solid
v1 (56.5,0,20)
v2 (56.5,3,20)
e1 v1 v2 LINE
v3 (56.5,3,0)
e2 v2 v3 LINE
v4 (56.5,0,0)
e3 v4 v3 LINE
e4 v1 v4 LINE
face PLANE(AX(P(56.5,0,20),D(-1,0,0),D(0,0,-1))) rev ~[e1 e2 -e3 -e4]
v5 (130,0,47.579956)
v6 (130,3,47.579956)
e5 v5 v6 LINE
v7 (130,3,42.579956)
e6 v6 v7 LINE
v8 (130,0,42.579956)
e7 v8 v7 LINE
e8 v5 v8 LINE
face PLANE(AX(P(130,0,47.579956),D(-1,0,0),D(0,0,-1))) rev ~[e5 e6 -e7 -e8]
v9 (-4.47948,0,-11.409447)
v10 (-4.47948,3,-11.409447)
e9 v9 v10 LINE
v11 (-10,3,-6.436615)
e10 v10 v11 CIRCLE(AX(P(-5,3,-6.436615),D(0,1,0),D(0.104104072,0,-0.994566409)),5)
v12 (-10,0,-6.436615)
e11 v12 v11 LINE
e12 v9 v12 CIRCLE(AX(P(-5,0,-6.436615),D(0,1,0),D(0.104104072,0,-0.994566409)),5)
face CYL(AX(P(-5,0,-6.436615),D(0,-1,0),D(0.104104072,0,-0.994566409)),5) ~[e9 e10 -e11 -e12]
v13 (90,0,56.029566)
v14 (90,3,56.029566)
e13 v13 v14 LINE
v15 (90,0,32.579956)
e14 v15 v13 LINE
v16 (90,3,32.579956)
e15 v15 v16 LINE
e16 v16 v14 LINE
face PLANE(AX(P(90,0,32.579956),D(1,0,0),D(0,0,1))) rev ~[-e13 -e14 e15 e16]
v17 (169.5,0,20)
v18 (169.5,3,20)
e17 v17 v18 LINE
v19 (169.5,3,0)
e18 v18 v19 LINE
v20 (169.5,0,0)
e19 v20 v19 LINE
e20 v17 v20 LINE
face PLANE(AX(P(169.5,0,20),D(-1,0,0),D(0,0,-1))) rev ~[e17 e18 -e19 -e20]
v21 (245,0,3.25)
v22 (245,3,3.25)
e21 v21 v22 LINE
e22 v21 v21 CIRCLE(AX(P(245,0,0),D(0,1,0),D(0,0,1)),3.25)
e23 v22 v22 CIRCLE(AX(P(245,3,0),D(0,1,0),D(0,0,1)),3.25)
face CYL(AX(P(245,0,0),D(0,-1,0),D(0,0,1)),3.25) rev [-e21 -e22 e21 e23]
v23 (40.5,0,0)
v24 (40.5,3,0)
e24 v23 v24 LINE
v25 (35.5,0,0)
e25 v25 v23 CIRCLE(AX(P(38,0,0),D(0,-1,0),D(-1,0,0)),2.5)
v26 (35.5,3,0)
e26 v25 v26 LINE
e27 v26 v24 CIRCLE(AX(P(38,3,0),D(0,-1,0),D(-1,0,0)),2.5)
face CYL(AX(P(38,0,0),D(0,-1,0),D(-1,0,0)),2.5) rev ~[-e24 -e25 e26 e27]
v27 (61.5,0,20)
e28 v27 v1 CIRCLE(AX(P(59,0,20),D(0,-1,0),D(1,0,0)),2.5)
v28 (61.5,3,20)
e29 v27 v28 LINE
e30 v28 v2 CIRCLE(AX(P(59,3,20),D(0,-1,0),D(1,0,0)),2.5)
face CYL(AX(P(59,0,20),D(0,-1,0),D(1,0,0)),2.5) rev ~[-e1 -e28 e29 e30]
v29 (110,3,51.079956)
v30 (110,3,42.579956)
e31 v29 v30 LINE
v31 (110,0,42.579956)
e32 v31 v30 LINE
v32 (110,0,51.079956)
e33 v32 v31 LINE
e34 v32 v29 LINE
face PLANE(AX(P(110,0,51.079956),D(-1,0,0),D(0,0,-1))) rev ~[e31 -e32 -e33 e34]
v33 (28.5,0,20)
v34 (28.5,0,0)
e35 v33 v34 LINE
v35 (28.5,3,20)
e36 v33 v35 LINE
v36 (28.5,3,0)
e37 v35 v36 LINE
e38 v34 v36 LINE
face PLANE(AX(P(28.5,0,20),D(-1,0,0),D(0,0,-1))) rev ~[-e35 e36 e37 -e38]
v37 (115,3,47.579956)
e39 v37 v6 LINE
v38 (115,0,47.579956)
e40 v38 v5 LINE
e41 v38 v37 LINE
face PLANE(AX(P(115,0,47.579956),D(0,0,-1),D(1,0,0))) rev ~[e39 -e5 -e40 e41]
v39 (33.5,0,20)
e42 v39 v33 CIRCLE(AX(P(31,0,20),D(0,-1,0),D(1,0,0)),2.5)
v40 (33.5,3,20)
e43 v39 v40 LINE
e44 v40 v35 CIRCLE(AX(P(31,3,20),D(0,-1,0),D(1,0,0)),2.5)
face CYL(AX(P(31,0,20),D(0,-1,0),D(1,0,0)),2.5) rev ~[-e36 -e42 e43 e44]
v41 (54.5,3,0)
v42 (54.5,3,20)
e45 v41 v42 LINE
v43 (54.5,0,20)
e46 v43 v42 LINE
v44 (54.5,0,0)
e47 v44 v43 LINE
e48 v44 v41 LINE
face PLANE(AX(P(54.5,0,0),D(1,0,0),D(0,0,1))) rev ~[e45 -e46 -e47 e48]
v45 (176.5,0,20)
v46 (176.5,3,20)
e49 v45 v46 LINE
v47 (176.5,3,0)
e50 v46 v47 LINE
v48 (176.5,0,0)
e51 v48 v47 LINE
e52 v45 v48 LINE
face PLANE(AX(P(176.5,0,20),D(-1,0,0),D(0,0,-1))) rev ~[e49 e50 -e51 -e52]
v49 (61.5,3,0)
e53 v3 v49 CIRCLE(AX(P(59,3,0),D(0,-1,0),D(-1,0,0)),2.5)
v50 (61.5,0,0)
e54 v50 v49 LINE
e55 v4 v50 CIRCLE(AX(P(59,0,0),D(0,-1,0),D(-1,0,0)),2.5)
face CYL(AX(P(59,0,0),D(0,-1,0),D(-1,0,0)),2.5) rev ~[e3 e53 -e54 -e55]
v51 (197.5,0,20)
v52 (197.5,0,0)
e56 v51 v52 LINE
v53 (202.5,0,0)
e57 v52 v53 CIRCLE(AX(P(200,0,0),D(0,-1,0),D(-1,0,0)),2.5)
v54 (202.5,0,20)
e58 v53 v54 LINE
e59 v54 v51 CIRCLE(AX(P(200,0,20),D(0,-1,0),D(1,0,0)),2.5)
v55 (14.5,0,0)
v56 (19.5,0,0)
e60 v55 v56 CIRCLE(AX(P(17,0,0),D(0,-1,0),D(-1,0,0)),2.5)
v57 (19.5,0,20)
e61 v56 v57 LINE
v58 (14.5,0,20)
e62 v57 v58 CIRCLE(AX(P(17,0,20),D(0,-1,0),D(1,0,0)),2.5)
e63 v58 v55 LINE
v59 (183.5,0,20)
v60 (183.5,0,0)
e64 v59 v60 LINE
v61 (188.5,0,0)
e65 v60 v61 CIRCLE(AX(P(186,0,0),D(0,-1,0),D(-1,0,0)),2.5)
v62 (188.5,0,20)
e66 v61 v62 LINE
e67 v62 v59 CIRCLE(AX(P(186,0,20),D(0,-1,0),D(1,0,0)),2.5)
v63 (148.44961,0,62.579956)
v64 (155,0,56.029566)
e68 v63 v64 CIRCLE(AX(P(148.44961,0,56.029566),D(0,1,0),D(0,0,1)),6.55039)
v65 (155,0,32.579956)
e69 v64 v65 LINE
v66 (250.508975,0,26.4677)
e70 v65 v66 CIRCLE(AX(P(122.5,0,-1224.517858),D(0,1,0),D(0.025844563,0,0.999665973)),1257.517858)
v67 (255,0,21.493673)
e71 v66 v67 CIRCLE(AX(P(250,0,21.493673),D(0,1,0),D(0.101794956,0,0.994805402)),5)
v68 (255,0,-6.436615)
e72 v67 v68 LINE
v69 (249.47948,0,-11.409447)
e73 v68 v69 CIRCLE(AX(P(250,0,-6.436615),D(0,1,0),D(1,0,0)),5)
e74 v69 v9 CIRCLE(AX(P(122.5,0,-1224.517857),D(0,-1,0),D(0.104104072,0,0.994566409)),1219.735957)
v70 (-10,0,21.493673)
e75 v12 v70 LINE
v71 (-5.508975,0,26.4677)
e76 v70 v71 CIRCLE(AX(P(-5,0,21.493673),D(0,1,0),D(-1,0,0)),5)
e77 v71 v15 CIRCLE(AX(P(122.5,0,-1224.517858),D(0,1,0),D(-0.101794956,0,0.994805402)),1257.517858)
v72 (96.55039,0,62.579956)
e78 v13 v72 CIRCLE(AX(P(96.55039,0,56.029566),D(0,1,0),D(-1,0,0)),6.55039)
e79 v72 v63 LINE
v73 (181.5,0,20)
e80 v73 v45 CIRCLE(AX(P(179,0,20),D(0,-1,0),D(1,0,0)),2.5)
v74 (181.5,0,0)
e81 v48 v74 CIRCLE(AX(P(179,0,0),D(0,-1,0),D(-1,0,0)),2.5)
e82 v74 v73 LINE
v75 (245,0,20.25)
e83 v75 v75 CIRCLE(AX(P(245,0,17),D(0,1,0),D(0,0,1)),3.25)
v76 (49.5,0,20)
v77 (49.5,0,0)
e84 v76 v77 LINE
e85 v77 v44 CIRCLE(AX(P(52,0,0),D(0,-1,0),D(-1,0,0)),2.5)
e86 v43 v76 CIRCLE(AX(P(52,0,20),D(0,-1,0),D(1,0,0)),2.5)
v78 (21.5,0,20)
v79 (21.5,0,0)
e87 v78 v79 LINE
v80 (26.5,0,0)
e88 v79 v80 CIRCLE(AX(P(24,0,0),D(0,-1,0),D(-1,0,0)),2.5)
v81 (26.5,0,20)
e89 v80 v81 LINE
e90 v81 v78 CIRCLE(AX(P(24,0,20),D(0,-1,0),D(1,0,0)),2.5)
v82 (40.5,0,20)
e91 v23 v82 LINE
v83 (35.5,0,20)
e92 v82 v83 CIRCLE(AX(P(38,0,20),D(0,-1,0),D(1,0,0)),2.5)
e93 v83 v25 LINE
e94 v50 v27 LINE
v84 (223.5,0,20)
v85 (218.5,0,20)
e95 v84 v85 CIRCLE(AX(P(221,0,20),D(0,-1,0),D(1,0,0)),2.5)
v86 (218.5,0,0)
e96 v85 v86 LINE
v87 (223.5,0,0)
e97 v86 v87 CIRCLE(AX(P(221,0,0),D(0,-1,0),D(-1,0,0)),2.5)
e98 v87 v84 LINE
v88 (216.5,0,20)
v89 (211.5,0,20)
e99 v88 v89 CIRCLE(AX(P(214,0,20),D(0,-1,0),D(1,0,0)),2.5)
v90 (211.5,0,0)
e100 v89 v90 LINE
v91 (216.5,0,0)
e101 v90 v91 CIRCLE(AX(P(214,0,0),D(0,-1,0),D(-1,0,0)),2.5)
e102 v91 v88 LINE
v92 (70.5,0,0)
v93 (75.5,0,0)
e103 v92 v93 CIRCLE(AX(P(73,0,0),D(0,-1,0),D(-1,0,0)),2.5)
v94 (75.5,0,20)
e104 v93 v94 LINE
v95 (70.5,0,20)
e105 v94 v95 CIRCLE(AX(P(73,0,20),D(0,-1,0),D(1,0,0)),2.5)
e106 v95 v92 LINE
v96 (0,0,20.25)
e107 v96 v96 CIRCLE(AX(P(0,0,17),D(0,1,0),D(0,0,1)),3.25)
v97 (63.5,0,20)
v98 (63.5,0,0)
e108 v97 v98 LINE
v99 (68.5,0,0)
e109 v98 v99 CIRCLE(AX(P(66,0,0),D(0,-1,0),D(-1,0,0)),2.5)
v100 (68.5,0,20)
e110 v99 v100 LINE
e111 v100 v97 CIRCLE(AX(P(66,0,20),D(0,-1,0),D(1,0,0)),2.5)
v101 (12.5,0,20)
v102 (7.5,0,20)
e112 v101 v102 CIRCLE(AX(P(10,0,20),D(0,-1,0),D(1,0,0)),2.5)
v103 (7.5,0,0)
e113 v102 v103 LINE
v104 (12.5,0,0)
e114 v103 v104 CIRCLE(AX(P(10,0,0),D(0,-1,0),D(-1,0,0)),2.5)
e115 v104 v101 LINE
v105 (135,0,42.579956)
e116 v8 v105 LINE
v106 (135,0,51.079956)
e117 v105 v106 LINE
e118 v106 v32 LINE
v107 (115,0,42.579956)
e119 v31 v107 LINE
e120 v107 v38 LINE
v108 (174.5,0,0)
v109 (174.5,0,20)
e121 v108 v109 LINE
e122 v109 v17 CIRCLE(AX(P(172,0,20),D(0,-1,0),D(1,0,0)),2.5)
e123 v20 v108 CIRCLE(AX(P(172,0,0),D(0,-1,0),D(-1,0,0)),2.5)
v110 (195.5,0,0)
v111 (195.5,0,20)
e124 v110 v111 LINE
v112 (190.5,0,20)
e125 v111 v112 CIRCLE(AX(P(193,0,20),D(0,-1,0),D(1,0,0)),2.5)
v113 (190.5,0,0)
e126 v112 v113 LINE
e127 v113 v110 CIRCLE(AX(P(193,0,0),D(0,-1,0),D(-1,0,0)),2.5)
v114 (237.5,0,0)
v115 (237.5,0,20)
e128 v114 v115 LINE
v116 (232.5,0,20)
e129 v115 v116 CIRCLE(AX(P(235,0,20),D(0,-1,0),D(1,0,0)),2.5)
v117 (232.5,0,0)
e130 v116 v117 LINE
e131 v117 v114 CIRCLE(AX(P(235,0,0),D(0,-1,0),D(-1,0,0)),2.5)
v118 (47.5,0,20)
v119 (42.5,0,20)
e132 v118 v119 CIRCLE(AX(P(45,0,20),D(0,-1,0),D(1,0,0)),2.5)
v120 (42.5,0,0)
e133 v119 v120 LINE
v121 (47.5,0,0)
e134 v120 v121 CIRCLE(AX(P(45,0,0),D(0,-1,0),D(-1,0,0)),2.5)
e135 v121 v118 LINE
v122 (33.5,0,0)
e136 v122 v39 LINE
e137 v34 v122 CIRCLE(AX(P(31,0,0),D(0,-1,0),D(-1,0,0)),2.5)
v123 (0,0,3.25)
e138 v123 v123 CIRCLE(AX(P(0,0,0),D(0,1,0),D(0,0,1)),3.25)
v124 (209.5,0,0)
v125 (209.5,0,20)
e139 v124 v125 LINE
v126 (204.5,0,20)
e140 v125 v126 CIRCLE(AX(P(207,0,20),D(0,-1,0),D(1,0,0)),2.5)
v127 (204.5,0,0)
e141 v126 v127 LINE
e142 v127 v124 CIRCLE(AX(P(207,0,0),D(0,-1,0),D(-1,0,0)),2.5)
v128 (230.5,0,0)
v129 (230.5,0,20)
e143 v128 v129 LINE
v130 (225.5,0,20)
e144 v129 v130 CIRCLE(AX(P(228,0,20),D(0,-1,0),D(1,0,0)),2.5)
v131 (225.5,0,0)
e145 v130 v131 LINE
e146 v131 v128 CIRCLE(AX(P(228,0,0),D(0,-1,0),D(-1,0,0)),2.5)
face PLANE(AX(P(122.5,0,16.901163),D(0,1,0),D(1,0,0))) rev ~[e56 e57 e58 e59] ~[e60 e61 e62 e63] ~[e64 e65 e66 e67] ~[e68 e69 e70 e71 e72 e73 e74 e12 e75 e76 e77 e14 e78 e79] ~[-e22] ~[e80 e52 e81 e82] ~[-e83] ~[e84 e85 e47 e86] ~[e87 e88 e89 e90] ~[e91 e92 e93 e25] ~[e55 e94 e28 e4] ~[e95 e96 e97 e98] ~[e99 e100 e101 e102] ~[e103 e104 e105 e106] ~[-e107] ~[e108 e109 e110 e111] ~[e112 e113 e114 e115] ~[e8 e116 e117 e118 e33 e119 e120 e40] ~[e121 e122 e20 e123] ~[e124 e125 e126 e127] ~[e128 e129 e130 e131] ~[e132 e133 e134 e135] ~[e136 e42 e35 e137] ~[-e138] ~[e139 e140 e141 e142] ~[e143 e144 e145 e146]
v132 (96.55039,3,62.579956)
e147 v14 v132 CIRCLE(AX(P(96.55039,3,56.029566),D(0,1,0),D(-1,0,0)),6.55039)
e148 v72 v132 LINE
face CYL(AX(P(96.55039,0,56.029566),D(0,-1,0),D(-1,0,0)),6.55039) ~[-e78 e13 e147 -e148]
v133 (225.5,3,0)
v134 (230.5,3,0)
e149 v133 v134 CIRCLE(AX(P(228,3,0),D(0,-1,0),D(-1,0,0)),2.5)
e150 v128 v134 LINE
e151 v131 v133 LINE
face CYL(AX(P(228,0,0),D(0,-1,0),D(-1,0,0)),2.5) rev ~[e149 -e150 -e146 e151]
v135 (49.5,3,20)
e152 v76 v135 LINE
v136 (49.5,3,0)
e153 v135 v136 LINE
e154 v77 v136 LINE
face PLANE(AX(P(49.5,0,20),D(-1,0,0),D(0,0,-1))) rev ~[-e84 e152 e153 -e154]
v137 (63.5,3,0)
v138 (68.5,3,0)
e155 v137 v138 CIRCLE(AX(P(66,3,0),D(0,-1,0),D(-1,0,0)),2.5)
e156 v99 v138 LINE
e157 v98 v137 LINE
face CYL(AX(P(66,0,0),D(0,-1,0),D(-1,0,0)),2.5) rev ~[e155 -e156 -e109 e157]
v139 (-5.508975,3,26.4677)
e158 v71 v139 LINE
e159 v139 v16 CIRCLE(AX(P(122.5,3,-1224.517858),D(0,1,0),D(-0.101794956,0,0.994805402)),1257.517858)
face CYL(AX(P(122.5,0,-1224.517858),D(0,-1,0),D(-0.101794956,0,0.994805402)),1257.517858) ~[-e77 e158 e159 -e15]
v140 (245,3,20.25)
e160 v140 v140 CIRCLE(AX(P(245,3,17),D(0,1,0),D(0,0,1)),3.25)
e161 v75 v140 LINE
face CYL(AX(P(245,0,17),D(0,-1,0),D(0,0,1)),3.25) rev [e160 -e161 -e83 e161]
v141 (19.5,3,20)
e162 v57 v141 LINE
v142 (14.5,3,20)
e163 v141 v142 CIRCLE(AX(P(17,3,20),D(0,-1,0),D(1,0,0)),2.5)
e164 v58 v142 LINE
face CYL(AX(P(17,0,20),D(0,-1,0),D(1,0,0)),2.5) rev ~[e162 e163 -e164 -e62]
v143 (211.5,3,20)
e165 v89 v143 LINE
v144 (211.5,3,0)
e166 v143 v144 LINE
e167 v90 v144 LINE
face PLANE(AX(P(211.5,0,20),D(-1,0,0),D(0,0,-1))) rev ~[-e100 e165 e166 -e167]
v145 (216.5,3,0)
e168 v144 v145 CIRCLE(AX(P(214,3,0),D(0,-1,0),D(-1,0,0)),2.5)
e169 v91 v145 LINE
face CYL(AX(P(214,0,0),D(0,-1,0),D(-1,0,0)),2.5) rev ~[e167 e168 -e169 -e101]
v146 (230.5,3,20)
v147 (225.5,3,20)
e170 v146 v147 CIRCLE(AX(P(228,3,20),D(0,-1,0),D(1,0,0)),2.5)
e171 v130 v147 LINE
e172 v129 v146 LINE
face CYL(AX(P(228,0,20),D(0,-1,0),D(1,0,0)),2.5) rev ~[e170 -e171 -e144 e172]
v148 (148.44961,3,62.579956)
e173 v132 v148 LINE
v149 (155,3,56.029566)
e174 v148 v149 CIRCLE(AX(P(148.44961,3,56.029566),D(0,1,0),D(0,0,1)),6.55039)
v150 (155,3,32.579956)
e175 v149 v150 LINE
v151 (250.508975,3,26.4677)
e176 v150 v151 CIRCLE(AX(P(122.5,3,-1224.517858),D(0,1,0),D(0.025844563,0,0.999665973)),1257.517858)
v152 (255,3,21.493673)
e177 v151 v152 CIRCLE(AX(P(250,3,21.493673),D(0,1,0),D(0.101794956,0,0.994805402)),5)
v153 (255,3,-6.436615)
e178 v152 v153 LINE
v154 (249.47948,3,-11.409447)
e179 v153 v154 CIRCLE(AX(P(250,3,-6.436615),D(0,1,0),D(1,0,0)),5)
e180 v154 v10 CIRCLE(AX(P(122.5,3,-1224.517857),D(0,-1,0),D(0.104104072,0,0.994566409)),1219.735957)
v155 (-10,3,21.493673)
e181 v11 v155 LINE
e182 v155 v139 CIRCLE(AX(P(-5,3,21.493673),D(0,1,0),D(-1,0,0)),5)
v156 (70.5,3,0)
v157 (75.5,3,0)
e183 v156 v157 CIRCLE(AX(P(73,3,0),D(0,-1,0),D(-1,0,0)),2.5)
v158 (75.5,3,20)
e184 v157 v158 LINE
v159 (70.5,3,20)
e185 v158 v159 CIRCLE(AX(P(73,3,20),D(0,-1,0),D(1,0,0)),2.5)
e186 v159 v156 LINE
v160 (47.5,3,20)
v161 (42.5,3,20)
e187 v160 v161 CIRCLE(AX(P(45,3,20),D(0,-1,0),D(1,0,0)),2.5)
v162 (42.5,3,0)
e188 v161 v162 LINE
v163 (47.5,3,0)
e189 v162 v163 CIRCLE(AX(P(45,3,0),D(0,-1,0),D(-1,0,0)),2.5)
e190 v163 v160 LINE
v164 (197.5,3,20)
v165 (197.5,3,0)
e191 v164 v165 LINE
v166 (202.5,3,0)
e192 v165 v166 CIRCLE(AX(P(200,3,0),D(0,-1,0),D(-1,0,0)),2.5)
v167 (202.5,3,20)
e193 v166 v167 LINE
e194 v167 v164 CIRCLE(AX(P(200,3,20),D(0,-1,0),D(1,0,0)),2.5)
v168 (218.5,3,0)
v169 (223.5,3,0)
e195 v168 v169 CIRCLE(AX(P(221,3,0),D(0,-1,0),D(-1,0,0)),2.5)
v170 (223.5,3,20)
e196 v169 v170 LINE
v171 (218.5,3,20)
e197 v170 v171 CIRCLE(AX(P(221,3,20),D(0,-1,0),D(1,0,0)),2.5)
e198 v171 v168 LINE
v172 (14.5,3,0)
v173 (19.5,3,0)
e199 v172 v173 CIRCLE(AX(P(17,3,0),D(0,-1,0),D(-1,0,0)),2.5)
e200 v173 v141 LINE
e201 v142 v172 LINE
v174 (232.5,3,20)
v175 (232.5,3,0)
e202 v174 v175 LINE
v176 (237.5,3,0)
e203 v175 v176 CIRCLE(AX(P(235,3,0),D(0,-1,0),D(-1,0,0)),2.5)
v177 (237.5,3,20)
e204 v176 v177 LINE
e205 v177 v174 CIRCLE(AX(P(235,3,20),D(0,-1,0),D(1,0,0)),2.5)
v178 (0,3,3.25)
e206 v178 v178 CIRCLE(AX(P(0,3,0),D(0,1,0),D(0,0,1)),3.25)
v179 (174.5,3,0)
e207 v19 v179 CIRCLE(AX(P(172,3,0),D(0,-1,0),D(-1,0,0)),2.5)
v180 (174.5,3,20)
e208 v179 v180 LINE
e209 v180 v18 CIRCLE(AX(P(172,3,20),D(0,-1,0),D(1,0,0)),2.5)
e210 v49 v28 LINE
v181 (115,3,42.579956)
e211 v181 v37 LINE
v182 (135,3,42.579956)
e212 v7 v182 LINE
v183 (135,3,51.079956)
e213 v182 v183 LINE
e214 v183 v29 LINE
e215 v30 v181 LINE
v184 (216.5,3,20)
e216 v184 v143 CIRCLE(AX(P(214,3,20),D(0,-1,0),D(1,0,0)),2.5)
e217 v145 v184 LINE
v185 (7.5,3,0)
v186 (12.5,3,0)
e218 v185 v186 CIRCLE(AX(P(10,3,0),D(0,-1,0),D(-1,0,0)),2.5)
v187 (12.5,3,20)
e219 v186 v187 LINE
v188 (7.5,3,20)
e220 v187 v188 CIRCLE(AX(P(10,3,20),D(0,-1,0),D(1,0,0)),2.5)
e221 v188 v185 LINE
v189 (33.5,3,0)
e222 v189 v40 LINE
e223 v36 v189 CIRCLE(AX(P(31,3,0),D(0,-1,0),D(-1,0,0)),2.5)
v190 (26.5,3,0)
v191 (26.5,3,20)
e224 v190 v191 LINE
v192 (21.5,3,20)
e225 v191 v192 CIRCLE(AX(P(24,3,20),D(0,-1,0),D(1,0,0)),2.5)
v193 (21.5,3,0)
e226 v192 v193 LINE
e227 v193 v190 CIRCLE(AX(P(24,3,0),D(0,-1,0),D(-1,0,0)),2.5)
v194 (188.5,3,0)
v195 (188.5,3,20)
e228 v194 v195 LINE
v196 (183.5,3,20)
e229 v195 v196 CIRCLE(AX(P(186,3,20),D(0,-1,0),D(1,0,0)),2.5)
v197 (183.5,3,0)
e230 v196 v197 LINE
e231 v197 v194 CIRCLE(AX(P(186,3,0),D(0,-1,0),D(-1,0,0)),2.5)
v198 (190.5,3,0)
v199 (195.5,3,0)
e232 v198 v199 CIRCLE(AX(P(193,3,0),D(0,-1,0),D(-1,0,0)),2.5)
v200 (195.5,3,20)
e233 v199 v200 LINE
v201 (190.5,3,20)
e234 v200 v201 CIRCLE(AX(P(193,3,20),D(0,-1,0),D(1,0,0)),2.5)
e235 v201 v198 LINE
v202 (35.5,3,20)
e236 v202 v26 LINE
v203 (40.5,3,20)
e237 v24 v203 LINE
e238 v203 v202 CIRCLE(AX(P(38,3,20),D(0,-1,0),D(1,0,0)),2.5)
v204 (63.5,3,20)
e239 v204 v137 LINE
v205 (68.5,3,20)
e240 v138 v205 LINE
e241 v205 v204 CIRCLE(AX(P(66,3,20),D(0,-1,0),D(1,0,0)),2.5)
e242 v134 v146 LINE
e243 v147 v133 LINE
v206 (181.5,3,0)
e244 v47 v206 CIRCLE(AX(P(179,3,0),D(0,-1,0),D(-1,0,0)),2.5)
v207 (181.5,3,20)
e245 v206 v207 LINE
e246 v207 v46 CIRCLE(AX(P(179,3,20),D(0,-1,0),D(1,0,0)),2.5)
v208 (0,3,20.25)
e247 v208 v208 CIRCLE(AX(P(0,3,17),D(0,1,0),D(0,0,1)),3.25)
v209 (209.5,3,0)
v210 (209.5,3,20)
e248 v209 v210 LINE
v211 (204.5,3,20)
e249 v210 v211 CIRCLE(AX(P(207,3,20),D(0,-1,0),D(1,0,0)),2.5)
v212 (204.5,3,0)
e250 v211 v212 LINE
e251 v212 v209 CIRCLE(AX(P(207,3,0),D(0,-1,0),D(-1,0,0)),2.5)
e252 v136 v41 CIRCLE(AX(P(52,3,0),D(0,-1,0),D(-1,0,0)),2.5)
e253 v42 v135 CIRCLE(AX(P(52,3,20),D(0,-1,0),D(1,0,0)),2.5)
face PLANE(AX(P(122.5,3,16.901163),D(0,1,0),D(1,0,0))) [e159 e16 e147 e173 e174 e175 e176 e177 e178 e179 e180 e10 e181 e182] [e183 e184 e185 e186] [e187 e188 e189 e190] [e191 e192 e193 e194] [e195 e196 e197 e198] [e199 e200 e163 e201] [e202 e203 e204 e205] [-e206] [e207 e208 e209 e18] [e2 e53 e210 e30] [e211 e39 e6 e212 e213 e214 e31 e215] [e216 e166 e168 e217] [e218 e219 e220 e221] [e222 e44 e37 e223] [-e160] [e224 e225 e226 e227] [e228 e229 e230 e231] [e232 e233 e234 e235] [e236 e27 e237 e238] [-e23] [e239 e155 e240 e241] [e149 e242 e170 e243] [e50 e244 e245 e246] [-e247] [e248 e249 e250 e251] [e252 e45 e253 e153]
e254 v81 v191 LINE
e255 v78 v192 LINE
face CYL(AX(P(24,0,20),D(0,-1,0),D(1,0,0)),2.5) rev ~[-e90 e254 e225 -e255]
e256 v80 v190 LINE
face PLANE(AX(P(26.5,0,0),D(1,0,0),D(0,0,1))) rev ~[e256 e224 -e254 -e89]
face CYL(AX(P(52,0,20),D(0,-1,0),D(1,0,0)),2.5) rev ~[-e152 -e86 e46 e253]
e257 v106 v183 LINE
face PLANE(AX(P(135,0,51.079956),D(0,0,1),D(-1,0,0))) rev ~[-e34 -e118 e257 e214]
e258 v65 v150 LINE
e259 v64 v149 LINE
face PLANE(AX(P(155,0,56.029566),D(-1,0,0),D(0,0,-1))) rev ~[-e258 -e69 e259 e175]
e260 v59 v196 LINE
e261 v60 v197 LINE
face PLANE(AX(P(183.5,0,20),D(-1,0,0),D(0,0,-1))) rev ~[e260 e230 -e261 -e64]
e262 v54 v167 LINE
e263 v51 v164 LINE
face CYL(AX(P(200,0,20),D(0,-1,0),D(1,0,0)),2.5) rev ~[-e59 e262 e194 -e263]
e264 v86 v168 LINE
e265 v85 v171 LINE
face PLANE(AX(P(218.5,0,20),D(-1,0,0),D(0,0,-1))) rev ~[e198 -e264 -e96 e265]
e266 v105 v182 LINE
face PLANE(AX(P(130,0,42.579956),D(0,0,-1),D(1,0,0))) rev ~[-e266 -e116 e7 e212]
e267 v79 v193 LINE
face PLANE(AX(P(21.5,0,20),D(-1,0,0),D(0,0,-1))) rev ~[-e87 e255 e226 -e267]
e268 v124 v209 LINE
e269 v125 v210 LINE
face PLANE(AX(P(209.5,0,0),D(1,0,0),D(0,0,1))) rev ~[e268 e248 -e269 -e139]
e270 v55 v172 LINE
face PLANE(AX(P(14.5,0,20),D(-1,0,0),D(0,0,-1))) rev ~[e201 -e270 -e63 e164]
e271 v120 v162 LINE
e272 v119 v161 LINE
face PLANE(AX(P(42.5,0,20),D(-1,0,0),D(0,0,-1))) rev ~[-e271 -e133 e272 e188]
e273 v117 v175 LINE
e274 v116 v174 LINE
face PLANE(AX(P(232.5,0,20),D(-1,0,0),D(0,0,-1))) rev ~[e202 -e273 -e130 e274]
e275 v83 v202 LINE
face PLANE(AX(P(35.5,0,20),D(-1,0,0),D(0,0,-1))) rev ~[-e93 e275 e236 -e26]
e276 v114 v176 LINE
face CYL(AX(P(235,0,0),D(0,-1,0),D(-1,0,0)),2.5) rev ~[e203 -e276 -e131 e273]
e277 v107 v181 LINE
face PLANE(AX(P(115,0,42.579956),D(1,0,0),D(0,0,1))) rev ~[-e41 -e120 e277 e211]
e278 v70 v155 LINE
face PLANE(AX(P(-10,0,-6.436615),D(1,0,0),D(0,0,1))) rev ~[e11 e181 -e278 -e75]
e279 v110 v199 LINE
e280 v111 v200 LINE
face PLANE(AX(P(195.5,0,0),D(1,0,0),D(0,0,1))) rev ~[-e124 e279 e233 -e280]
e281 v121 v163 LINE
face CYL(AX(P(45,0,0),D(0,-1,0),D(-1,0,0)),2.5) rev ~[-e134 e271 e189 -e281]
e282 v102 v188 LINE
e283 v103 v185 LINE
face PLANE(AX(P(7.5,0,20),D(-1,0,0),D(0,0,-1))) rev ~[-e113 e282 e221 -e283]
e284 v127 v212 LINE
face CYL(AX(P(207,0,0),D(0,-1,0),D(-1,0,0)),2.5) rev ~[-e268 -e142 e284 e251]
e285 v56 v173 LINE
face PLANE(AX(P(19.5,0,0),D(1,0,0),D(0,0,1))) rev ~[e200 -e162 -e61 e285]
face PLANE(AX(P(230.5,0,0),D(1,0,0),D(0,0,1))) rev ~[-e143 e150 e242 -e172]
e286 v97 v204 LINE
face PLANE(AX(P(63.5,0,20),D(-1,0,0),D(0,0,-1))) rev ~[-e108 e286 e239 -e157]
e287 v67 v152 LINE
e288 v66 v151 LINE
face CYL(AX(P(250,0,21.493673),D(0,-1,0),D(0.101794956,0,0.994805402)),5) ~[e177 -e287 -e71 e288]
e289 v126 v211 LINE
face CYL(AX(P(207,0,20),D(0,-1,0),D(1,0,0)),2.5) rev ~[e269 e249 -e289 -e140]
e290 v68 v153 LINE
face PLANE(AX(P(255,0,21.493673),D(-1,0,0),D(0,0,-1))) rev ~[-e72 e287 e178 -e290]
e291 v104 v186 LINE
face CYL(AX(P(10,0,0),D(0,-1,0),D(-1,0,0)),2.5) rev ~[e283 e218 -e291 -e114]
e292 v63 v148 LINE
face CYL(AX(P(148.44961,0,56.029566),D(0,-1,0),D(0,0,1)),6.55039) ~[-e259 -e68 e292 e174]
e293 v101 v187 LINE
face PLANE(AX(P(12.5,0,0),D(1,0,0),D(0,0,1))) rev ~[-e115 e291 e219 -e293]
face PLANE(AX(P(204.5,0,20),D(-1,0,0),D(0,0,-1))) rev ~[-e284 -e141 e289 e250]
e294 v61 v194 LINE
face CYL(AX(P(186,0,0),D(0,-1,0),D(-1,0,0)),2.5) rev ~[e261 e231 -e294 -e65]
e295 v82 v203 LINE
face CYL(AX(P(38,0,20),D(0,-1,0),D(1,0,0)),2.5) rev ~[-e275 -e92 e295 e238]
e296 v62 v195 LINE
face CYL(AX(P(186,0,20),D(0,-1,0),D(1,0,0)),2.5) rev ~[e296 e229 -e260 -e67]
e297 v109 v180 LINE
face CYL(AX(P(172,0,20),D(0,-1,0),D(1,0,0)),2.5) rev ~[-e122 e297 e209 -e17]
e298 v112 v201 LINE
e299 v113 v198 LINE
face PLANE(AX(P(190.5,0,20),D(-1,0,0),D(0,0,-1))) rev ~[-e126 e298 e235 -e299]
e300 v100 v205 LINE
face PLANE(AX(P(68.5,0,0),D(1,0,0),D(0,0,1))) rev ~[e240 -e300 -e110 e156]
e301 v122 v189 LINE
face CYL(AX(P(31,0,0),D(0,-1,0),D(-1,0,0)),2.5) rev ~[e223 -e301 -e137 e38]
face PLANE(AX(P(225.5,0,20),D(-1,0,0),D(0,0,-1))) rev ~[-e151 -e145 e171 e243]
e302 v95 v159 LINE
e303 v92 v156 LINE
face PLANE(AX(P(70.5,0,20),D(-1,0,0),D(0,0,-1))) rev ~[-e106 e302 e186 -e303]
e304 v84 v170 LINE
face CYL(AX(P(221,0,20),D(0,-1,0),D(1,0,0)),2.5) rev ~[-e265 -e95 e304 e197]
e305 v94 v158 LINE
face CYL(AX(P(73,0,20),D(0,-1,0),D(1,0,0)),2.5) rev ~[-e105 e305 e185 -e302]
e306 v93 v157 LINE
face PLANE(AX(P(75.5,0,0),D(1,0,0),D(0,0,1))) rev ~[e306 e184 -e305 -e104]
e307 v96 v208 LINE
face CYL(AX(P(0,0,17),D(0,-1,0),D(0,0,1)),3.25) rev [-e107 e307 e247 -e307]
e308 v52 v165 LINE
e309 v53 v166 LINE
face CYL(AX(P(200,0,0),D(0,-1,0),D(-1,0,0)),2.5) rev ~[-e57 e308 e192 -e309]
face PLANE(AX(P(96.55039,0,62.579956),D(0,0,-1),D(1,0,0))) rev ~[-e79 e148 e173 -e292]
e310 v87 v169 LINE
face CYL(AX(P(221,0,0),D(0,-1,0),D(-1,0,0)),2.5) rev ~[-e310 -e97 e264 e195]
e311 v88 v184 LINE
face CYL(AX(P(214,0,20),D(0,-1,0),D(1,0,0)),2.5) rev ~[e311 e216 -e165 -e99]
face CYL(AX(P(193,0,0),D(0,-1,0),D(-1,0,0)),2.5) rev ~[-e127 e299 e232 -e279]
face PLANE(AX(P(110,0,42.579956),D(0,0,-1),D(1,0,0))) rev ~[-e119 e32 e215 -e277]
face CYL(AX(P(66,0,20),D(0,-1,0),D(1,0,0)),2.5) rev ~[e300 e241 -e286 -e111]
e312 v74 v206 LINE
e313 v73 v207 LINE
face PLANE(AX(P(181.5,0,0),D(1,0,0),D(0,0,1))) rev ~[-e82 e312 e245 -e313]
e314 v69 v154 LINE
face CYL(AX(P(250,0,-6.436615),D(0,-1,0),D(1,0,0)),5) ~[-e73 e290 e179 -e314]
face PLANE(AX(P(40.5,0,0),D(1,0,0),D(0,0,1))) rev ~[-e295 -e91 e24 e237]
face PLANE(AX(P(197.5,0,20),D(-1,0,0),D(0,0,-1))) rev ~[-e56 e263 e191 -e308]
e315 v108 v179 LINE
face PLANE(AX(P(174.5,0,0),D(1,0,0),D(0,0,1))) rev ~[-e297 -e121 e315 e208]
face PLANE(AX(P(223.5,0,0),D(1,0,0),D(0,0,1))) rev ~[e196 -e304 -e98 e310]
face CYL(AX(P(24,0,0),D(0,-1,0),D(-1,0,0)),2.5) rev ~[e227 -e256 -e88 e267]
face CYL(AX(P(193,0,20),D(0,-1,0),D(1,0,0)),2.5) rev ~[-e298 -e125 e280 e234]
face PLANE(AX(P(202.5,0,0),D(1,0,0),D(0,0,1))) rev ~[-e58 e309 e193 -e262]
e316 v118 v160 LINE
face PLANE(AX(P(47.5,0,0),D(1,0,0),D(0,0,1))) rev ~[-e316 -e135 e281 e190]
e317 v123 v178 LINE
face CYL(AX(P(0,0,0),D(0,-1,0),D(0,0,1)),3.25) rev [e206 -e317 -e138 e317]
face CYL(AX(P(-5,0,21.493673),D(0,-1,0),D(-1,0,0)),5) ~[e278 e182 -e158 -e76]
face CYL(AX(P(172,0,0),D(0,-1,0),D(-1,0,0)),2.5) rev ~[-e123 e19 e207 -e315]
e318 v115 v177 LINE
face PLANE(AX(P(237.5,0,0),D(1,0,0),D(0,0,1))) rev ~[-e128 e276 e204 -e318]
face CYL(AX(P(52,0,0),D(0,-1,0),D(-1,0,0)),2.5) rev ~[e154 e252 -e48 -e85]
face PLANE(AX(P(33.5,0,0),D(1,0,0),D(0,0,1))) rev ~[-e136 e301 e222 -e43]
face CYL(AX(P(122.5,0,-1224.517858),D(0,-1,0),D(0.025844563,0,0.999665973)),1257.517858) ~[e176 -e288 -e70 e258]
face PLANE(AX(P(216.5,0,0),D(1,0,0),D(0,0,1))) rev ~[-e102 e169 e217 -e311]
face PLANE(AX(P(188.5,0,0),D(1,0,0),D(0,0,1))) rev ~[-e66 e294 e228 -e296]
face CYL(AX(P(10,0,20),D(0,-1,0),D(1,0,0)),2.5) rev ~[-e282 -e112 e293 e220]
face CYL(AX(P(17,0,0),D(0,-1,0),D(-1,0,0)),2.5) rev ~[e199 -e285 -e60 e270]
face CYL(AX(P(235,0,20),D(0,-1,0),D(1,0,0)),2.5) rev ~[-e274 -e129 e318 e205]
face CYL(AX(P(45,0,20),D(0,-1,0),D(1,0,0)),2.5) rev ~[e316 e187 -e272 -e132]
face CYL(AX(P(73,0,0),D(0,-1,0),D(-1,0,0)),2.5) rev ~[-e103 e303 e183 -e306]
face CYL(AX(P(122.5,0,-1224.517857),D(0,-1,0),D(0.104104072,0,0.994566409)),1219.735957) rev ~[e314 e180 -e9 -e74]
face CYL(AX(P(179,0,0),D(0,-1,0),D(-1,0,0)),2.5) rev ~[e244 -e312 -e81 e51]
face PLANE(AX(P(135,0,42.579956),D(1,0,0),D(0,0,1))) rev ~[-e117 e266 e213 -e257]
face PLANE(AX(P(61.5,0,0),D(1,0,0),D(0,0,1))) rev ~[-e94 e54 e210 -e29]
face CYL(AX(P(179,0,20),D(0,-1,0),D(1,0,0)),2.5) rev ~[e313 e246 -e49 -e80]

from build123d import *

# Parameters (mm, degrees)
SKETCH1_R           = 3.25
BOSS_EXTRUDE1_DEPTH = 3


with BuildPart() as part:
    # Sketch1 → Boss-Extrude1 (new body)
    with BuildSketch(Plane(origin=(0, 0, 0), x_dir=(1, 0, 0), z_dir=(0, 1, 0))):
        with BuildLine():
            Line((-10, 6.436614591), (-10, -21.493672684))
            ThreePointArc((-10, -21.493672684), (-8.711123408, -24.844428278), (-5.508974779, -26.467699692))
            ThreePointArc((-5.508974779, -26.467699692), (42.187344307, -30.432754781), (90, -32.579955692))
            Line((90, -32.579955692), (90, -56.029565828))
            ThreePointArc((90, -56.029565828), (91.918564772, -60.66139092), (96.550389863, -62.579955692))
            Line((96.550389863, -62.579955692), (148.449610137, -62.579955692))
            ThreePointArc((148.449610137, -62.579955692), (153.081435228, -60.66139092), (155, -56.029565828))
            Line((155, -56.029565828), (155, -32.579955692))
            ThreePointArc((155, -32.579955692), (202.812655693, -30.432754781), (250.508974779, -26.467699692))
            ThreePointArc((250.508974779, -26.467699692), (253.711123408, -24.844428278), (255, -21.493672684))
            Line((255, -21.493672684), (255, 6.436614591))
            ThreePointArc((255, 6.436614591), (253.346445742, 10.151624806), (249.479479641, 11.409446637))
            ThreePointArc((249.479479641, 11.409446637), (122.5, 4.781900515), (-4.479479641, 11.409446637))
            ThreePointArc((-4.479479641, 11.409446637), (-8.346445742, 10.151624806), (-10, 6.436614591))
        make_face()
        with Locations(Location((0, 0, 0), (0, 0, 270))):
            Circle(SKETCH1_R, mode=Mode.SUBTRACT)
        with Locations(Location((245, 0, 0), (0, 0, 270))):
            Circle(SKETCH1_R, mode=Mode.SUBTRACT)
        with Locations(Location((0, -17, 0), (0, 0, 270))):
            Circle(SKETCH1_R, mode=Mode.SUBTRACT)
        with Locations(Location((245, -17, 0), (0, 0, 270))):
            Circle(SKETCH1_R, mode=Mode.SUBTRACT)
        with BuildLine():
            Line((12.5, 0), (12.5, -20))
            ThreePointArc((12.5, -20), (10, -22.5), (7.5, -20))
            Line((7.5, -20), (7.5, 0))
            ThreePointArc((7.5, 0), (10, 2.5), (12.5, 0))
        make_face(mode=Mode.SUBTRACT)
        with BuildLine():
            Line((19.5, 0), (19.5, -20))
            ThreePointArc((19.5, -20), (17, -22.5), (14.5, -20))
            Line((14.5, -20), (14.5, 0))
            ThreePointArc((14.5, 0), (17, 2.5), (19.5, 0))
        make_face(mode=Mode.SUBTRACT)
        with BuildLine():
            Line((26.5, 0), (26.5, -20))
            ThreePointArc((26.5, -20), (24, -22.5), (21.5, -20))
            Line((21.5, -20), (21.5, 0))
            ThreePointArc((21.5, 0), (24, 2.5), (26.5, 0))
        make_face(mode=Mode.SUBTRACT)
        with BuildLine():
            Line((33.5, 0), (33.5, -20))
            ThreePointArc((33.5, -20), (31, -22.5), (28.5, -20))
            Line((28.5, -20), (28.5, 0))
            ThreePointArc((28.5, 0), (31, 2.5), (33.5, 0))
        make_face(mode=Mode.SUBTRACT)
        with BuildLine():
            Line((40.5, 0), (40.5, -20))
            ThreePointArc((40.5, -20), (38, -22.5), (35.5, -20))
            Line((35.5, -20), (35.5, 0))
            ThreePointArc((35.5, 0), (38, 2.5), (40.5, 0))
        make_face(mode=Mode.SUBTRACT)
        with BuildLine():
            Line((47.5, 0), (47.5, -20))
            ThreePointArc((47.5, -20), (45, -22.5), (42.5, -20))
            Line((42.5, -20), (42.5, 0))
            ThreePointArc((42.5, 0), (45, 2.5), (47.5, 0))
        make_face(mode=Mode.SUBTRACT)
        with BuildLine():
            Line((54.5, 0), (54.5, -20))
            ThreePointArc((54.5, -20), (52, -22.5), (49.5, -20))
            Line((49.5, -20), (49.5, 0))
            ThreePointArc((49.5, 0), (52, 2.5), (54.5, 0))
        make_face(mode=Mode.SUBTRACT)
        with BuildLine():
            Line((61.5, 0), (61.5, -20))
            ThreePointArc((61.5, -20), (59, -22.5), (56.5, -20))
            Line((56.5, -20), (56.5, 0))
            ThreePointArc((56.5, 0), (59, 2.5), (61.5, 0))
        make_face(mode=Mode.SUBTRACT)
        with BuildLine():
            Line((68.5, 0), (68.5, -20))
            ThreePointArc((68.5, -20), (66, -22.5), (63.5, -20))
            Line((63.5, -20), (63.5, 0))
            ThreePointArc((63.5, 0), (66, 2.5), (68.5, 0))
        make_face(mode=Mode.SUBTRACT)
        with BuildLine():
            Line((75.5, 0), (75.5, -20))
            ThreePointArc((75.5, -20), (73, -22.5), (70.5, -20))
            Line((70.5, -20), (70.5, 0))
            ThreePointArc((70.5, 0), (73, 2.5), (75.5, 0))
        make_face(mode=Mode.SUBTRACT)
        with BuildLine():
            Line((174.5, 0), (174.5, -20))
            ThreePointArc((174.5, -20), (172, -22.5), (169.5, -20))
            Line((169.5, -20), (169.5, 0))
            ThreePointArc((169.5, 0), (172, 2.5), (174.5, 0))
        make_face(mode=Mode.SUBTRACT)
        with BuildLine():
            Line((181.5, 0), (181.5, -20))
            ThreePointArc((181.5, -20), (179, -22.5), (176.5, -20))
            Line((176.5, -20), (176.5, 0))
            ThreePointArc((176.5, 0), (179, 2.5), (181.5, 0))
        make_face(mode=Mode.SUBTRACT)
        with BuildLine():
            Line((188.5, 0), (188.5, -20))
            ThreePointArc((188.5, -20), (186, -22.5), (183.5, -20))
            Line((183.5, -20), (183.5, 0))
            ThreePointArc((183.5, 0), (186, 2.5), (188.5, 0))
        make_face(mode=Mode.SUBTRACT)
        with BuildLine():
            Line((195.5, 0), (195.5, -20))
            ThreePointArc((195.5, -20), (193, -22.5), (190.5, -20))
            Line((190.5, -20), (190.5, 0))
            ThreePointArc((190.5, 0), (193, 2.5), (195.5, 0))
        make_face(mode=Mode.SUBTRACT)
        with BuildLine():
            Line((202.5, 0), (202.5, -20))
            ThreePointArc((202.5, -20), (200, -22.5), (197.5, -20))
            Line((197.5, -20), (197.5, 0))
            ThreePointArc((197.5, 0), (200, 2.5), (202.5, 0))
        make_face(mode=Mode.SUBTRACT)
        with BuildLine():
            Line((209.5, 0), (209.5, -20))
            ThreePointArc((209.5, -20), (207, -22.5), (204.5, -20))
            Line((204.5, -20), (204.5, 0))
            ThreePointArc((204.5, 0), (207, 2.5), (209.5, 0))
        make_face(mode=Mode.SUBTRACT)
        with BuildLine():
            Line((216.5, 0), (216.5, -20))
            ThreePointArc((216.5, -20), (214, -22.5), (211.5, -20))
            Line((211.5, -20), (211.5, 0))
            ThreePointArc((211.5, 0), (214, 2.5), (216.5, 0))
        make_face(mode=Mode.SUBTRACT)
        with BuildLine():
            Line((223.5, 0), (223.5, -20))
            ThreePointArc((223.5, -20), (221, -22.5), (218.5, -20))
            Line((218.5, -20), (218.5, 0))
            ThreePointArc((218.5, 0), (221, 2.5), (223.5, 0))
        make_face(mode=Mode.SUBTRACT)
        with BuildLine():
            Line((230.5, 0), (230.5, -20))
            ThreePointArc((230.5, -20), (228, -22.5), (225.5, -20))
            Line((225.5, -20), (225.5, 0))
            ThreePointArc((225.5, 0), (228, 2.5), (230.5, 0))
        make_face(mode=Mode.SUBTRACT)
        with BuildLine():
            Line((237.5, 0), (237.5, -20))
            ThreePointArc((237.5, -20), (235, -22.5), (232.5, -20))
            Line((232.5, -20), (232.5, 0))
            ThreePointArc((232.5, 0), (235, 2.5), (237.5, 0))
        make_face(mode=Mode.SUBTRACT)
        Polygon((115, -42.579955692), (115, -47.579955692), (130, -47.579955692), (130, -42.579955692), (135, -42.579955692), (135, -51.079955692), (110, -51.079955692), (110, -42.579955692), align=None, mode=Mode.SUBTRACT)
    extrude(amount=BOSS_EXTRUDE1_DEPTH)


solid = part.part
